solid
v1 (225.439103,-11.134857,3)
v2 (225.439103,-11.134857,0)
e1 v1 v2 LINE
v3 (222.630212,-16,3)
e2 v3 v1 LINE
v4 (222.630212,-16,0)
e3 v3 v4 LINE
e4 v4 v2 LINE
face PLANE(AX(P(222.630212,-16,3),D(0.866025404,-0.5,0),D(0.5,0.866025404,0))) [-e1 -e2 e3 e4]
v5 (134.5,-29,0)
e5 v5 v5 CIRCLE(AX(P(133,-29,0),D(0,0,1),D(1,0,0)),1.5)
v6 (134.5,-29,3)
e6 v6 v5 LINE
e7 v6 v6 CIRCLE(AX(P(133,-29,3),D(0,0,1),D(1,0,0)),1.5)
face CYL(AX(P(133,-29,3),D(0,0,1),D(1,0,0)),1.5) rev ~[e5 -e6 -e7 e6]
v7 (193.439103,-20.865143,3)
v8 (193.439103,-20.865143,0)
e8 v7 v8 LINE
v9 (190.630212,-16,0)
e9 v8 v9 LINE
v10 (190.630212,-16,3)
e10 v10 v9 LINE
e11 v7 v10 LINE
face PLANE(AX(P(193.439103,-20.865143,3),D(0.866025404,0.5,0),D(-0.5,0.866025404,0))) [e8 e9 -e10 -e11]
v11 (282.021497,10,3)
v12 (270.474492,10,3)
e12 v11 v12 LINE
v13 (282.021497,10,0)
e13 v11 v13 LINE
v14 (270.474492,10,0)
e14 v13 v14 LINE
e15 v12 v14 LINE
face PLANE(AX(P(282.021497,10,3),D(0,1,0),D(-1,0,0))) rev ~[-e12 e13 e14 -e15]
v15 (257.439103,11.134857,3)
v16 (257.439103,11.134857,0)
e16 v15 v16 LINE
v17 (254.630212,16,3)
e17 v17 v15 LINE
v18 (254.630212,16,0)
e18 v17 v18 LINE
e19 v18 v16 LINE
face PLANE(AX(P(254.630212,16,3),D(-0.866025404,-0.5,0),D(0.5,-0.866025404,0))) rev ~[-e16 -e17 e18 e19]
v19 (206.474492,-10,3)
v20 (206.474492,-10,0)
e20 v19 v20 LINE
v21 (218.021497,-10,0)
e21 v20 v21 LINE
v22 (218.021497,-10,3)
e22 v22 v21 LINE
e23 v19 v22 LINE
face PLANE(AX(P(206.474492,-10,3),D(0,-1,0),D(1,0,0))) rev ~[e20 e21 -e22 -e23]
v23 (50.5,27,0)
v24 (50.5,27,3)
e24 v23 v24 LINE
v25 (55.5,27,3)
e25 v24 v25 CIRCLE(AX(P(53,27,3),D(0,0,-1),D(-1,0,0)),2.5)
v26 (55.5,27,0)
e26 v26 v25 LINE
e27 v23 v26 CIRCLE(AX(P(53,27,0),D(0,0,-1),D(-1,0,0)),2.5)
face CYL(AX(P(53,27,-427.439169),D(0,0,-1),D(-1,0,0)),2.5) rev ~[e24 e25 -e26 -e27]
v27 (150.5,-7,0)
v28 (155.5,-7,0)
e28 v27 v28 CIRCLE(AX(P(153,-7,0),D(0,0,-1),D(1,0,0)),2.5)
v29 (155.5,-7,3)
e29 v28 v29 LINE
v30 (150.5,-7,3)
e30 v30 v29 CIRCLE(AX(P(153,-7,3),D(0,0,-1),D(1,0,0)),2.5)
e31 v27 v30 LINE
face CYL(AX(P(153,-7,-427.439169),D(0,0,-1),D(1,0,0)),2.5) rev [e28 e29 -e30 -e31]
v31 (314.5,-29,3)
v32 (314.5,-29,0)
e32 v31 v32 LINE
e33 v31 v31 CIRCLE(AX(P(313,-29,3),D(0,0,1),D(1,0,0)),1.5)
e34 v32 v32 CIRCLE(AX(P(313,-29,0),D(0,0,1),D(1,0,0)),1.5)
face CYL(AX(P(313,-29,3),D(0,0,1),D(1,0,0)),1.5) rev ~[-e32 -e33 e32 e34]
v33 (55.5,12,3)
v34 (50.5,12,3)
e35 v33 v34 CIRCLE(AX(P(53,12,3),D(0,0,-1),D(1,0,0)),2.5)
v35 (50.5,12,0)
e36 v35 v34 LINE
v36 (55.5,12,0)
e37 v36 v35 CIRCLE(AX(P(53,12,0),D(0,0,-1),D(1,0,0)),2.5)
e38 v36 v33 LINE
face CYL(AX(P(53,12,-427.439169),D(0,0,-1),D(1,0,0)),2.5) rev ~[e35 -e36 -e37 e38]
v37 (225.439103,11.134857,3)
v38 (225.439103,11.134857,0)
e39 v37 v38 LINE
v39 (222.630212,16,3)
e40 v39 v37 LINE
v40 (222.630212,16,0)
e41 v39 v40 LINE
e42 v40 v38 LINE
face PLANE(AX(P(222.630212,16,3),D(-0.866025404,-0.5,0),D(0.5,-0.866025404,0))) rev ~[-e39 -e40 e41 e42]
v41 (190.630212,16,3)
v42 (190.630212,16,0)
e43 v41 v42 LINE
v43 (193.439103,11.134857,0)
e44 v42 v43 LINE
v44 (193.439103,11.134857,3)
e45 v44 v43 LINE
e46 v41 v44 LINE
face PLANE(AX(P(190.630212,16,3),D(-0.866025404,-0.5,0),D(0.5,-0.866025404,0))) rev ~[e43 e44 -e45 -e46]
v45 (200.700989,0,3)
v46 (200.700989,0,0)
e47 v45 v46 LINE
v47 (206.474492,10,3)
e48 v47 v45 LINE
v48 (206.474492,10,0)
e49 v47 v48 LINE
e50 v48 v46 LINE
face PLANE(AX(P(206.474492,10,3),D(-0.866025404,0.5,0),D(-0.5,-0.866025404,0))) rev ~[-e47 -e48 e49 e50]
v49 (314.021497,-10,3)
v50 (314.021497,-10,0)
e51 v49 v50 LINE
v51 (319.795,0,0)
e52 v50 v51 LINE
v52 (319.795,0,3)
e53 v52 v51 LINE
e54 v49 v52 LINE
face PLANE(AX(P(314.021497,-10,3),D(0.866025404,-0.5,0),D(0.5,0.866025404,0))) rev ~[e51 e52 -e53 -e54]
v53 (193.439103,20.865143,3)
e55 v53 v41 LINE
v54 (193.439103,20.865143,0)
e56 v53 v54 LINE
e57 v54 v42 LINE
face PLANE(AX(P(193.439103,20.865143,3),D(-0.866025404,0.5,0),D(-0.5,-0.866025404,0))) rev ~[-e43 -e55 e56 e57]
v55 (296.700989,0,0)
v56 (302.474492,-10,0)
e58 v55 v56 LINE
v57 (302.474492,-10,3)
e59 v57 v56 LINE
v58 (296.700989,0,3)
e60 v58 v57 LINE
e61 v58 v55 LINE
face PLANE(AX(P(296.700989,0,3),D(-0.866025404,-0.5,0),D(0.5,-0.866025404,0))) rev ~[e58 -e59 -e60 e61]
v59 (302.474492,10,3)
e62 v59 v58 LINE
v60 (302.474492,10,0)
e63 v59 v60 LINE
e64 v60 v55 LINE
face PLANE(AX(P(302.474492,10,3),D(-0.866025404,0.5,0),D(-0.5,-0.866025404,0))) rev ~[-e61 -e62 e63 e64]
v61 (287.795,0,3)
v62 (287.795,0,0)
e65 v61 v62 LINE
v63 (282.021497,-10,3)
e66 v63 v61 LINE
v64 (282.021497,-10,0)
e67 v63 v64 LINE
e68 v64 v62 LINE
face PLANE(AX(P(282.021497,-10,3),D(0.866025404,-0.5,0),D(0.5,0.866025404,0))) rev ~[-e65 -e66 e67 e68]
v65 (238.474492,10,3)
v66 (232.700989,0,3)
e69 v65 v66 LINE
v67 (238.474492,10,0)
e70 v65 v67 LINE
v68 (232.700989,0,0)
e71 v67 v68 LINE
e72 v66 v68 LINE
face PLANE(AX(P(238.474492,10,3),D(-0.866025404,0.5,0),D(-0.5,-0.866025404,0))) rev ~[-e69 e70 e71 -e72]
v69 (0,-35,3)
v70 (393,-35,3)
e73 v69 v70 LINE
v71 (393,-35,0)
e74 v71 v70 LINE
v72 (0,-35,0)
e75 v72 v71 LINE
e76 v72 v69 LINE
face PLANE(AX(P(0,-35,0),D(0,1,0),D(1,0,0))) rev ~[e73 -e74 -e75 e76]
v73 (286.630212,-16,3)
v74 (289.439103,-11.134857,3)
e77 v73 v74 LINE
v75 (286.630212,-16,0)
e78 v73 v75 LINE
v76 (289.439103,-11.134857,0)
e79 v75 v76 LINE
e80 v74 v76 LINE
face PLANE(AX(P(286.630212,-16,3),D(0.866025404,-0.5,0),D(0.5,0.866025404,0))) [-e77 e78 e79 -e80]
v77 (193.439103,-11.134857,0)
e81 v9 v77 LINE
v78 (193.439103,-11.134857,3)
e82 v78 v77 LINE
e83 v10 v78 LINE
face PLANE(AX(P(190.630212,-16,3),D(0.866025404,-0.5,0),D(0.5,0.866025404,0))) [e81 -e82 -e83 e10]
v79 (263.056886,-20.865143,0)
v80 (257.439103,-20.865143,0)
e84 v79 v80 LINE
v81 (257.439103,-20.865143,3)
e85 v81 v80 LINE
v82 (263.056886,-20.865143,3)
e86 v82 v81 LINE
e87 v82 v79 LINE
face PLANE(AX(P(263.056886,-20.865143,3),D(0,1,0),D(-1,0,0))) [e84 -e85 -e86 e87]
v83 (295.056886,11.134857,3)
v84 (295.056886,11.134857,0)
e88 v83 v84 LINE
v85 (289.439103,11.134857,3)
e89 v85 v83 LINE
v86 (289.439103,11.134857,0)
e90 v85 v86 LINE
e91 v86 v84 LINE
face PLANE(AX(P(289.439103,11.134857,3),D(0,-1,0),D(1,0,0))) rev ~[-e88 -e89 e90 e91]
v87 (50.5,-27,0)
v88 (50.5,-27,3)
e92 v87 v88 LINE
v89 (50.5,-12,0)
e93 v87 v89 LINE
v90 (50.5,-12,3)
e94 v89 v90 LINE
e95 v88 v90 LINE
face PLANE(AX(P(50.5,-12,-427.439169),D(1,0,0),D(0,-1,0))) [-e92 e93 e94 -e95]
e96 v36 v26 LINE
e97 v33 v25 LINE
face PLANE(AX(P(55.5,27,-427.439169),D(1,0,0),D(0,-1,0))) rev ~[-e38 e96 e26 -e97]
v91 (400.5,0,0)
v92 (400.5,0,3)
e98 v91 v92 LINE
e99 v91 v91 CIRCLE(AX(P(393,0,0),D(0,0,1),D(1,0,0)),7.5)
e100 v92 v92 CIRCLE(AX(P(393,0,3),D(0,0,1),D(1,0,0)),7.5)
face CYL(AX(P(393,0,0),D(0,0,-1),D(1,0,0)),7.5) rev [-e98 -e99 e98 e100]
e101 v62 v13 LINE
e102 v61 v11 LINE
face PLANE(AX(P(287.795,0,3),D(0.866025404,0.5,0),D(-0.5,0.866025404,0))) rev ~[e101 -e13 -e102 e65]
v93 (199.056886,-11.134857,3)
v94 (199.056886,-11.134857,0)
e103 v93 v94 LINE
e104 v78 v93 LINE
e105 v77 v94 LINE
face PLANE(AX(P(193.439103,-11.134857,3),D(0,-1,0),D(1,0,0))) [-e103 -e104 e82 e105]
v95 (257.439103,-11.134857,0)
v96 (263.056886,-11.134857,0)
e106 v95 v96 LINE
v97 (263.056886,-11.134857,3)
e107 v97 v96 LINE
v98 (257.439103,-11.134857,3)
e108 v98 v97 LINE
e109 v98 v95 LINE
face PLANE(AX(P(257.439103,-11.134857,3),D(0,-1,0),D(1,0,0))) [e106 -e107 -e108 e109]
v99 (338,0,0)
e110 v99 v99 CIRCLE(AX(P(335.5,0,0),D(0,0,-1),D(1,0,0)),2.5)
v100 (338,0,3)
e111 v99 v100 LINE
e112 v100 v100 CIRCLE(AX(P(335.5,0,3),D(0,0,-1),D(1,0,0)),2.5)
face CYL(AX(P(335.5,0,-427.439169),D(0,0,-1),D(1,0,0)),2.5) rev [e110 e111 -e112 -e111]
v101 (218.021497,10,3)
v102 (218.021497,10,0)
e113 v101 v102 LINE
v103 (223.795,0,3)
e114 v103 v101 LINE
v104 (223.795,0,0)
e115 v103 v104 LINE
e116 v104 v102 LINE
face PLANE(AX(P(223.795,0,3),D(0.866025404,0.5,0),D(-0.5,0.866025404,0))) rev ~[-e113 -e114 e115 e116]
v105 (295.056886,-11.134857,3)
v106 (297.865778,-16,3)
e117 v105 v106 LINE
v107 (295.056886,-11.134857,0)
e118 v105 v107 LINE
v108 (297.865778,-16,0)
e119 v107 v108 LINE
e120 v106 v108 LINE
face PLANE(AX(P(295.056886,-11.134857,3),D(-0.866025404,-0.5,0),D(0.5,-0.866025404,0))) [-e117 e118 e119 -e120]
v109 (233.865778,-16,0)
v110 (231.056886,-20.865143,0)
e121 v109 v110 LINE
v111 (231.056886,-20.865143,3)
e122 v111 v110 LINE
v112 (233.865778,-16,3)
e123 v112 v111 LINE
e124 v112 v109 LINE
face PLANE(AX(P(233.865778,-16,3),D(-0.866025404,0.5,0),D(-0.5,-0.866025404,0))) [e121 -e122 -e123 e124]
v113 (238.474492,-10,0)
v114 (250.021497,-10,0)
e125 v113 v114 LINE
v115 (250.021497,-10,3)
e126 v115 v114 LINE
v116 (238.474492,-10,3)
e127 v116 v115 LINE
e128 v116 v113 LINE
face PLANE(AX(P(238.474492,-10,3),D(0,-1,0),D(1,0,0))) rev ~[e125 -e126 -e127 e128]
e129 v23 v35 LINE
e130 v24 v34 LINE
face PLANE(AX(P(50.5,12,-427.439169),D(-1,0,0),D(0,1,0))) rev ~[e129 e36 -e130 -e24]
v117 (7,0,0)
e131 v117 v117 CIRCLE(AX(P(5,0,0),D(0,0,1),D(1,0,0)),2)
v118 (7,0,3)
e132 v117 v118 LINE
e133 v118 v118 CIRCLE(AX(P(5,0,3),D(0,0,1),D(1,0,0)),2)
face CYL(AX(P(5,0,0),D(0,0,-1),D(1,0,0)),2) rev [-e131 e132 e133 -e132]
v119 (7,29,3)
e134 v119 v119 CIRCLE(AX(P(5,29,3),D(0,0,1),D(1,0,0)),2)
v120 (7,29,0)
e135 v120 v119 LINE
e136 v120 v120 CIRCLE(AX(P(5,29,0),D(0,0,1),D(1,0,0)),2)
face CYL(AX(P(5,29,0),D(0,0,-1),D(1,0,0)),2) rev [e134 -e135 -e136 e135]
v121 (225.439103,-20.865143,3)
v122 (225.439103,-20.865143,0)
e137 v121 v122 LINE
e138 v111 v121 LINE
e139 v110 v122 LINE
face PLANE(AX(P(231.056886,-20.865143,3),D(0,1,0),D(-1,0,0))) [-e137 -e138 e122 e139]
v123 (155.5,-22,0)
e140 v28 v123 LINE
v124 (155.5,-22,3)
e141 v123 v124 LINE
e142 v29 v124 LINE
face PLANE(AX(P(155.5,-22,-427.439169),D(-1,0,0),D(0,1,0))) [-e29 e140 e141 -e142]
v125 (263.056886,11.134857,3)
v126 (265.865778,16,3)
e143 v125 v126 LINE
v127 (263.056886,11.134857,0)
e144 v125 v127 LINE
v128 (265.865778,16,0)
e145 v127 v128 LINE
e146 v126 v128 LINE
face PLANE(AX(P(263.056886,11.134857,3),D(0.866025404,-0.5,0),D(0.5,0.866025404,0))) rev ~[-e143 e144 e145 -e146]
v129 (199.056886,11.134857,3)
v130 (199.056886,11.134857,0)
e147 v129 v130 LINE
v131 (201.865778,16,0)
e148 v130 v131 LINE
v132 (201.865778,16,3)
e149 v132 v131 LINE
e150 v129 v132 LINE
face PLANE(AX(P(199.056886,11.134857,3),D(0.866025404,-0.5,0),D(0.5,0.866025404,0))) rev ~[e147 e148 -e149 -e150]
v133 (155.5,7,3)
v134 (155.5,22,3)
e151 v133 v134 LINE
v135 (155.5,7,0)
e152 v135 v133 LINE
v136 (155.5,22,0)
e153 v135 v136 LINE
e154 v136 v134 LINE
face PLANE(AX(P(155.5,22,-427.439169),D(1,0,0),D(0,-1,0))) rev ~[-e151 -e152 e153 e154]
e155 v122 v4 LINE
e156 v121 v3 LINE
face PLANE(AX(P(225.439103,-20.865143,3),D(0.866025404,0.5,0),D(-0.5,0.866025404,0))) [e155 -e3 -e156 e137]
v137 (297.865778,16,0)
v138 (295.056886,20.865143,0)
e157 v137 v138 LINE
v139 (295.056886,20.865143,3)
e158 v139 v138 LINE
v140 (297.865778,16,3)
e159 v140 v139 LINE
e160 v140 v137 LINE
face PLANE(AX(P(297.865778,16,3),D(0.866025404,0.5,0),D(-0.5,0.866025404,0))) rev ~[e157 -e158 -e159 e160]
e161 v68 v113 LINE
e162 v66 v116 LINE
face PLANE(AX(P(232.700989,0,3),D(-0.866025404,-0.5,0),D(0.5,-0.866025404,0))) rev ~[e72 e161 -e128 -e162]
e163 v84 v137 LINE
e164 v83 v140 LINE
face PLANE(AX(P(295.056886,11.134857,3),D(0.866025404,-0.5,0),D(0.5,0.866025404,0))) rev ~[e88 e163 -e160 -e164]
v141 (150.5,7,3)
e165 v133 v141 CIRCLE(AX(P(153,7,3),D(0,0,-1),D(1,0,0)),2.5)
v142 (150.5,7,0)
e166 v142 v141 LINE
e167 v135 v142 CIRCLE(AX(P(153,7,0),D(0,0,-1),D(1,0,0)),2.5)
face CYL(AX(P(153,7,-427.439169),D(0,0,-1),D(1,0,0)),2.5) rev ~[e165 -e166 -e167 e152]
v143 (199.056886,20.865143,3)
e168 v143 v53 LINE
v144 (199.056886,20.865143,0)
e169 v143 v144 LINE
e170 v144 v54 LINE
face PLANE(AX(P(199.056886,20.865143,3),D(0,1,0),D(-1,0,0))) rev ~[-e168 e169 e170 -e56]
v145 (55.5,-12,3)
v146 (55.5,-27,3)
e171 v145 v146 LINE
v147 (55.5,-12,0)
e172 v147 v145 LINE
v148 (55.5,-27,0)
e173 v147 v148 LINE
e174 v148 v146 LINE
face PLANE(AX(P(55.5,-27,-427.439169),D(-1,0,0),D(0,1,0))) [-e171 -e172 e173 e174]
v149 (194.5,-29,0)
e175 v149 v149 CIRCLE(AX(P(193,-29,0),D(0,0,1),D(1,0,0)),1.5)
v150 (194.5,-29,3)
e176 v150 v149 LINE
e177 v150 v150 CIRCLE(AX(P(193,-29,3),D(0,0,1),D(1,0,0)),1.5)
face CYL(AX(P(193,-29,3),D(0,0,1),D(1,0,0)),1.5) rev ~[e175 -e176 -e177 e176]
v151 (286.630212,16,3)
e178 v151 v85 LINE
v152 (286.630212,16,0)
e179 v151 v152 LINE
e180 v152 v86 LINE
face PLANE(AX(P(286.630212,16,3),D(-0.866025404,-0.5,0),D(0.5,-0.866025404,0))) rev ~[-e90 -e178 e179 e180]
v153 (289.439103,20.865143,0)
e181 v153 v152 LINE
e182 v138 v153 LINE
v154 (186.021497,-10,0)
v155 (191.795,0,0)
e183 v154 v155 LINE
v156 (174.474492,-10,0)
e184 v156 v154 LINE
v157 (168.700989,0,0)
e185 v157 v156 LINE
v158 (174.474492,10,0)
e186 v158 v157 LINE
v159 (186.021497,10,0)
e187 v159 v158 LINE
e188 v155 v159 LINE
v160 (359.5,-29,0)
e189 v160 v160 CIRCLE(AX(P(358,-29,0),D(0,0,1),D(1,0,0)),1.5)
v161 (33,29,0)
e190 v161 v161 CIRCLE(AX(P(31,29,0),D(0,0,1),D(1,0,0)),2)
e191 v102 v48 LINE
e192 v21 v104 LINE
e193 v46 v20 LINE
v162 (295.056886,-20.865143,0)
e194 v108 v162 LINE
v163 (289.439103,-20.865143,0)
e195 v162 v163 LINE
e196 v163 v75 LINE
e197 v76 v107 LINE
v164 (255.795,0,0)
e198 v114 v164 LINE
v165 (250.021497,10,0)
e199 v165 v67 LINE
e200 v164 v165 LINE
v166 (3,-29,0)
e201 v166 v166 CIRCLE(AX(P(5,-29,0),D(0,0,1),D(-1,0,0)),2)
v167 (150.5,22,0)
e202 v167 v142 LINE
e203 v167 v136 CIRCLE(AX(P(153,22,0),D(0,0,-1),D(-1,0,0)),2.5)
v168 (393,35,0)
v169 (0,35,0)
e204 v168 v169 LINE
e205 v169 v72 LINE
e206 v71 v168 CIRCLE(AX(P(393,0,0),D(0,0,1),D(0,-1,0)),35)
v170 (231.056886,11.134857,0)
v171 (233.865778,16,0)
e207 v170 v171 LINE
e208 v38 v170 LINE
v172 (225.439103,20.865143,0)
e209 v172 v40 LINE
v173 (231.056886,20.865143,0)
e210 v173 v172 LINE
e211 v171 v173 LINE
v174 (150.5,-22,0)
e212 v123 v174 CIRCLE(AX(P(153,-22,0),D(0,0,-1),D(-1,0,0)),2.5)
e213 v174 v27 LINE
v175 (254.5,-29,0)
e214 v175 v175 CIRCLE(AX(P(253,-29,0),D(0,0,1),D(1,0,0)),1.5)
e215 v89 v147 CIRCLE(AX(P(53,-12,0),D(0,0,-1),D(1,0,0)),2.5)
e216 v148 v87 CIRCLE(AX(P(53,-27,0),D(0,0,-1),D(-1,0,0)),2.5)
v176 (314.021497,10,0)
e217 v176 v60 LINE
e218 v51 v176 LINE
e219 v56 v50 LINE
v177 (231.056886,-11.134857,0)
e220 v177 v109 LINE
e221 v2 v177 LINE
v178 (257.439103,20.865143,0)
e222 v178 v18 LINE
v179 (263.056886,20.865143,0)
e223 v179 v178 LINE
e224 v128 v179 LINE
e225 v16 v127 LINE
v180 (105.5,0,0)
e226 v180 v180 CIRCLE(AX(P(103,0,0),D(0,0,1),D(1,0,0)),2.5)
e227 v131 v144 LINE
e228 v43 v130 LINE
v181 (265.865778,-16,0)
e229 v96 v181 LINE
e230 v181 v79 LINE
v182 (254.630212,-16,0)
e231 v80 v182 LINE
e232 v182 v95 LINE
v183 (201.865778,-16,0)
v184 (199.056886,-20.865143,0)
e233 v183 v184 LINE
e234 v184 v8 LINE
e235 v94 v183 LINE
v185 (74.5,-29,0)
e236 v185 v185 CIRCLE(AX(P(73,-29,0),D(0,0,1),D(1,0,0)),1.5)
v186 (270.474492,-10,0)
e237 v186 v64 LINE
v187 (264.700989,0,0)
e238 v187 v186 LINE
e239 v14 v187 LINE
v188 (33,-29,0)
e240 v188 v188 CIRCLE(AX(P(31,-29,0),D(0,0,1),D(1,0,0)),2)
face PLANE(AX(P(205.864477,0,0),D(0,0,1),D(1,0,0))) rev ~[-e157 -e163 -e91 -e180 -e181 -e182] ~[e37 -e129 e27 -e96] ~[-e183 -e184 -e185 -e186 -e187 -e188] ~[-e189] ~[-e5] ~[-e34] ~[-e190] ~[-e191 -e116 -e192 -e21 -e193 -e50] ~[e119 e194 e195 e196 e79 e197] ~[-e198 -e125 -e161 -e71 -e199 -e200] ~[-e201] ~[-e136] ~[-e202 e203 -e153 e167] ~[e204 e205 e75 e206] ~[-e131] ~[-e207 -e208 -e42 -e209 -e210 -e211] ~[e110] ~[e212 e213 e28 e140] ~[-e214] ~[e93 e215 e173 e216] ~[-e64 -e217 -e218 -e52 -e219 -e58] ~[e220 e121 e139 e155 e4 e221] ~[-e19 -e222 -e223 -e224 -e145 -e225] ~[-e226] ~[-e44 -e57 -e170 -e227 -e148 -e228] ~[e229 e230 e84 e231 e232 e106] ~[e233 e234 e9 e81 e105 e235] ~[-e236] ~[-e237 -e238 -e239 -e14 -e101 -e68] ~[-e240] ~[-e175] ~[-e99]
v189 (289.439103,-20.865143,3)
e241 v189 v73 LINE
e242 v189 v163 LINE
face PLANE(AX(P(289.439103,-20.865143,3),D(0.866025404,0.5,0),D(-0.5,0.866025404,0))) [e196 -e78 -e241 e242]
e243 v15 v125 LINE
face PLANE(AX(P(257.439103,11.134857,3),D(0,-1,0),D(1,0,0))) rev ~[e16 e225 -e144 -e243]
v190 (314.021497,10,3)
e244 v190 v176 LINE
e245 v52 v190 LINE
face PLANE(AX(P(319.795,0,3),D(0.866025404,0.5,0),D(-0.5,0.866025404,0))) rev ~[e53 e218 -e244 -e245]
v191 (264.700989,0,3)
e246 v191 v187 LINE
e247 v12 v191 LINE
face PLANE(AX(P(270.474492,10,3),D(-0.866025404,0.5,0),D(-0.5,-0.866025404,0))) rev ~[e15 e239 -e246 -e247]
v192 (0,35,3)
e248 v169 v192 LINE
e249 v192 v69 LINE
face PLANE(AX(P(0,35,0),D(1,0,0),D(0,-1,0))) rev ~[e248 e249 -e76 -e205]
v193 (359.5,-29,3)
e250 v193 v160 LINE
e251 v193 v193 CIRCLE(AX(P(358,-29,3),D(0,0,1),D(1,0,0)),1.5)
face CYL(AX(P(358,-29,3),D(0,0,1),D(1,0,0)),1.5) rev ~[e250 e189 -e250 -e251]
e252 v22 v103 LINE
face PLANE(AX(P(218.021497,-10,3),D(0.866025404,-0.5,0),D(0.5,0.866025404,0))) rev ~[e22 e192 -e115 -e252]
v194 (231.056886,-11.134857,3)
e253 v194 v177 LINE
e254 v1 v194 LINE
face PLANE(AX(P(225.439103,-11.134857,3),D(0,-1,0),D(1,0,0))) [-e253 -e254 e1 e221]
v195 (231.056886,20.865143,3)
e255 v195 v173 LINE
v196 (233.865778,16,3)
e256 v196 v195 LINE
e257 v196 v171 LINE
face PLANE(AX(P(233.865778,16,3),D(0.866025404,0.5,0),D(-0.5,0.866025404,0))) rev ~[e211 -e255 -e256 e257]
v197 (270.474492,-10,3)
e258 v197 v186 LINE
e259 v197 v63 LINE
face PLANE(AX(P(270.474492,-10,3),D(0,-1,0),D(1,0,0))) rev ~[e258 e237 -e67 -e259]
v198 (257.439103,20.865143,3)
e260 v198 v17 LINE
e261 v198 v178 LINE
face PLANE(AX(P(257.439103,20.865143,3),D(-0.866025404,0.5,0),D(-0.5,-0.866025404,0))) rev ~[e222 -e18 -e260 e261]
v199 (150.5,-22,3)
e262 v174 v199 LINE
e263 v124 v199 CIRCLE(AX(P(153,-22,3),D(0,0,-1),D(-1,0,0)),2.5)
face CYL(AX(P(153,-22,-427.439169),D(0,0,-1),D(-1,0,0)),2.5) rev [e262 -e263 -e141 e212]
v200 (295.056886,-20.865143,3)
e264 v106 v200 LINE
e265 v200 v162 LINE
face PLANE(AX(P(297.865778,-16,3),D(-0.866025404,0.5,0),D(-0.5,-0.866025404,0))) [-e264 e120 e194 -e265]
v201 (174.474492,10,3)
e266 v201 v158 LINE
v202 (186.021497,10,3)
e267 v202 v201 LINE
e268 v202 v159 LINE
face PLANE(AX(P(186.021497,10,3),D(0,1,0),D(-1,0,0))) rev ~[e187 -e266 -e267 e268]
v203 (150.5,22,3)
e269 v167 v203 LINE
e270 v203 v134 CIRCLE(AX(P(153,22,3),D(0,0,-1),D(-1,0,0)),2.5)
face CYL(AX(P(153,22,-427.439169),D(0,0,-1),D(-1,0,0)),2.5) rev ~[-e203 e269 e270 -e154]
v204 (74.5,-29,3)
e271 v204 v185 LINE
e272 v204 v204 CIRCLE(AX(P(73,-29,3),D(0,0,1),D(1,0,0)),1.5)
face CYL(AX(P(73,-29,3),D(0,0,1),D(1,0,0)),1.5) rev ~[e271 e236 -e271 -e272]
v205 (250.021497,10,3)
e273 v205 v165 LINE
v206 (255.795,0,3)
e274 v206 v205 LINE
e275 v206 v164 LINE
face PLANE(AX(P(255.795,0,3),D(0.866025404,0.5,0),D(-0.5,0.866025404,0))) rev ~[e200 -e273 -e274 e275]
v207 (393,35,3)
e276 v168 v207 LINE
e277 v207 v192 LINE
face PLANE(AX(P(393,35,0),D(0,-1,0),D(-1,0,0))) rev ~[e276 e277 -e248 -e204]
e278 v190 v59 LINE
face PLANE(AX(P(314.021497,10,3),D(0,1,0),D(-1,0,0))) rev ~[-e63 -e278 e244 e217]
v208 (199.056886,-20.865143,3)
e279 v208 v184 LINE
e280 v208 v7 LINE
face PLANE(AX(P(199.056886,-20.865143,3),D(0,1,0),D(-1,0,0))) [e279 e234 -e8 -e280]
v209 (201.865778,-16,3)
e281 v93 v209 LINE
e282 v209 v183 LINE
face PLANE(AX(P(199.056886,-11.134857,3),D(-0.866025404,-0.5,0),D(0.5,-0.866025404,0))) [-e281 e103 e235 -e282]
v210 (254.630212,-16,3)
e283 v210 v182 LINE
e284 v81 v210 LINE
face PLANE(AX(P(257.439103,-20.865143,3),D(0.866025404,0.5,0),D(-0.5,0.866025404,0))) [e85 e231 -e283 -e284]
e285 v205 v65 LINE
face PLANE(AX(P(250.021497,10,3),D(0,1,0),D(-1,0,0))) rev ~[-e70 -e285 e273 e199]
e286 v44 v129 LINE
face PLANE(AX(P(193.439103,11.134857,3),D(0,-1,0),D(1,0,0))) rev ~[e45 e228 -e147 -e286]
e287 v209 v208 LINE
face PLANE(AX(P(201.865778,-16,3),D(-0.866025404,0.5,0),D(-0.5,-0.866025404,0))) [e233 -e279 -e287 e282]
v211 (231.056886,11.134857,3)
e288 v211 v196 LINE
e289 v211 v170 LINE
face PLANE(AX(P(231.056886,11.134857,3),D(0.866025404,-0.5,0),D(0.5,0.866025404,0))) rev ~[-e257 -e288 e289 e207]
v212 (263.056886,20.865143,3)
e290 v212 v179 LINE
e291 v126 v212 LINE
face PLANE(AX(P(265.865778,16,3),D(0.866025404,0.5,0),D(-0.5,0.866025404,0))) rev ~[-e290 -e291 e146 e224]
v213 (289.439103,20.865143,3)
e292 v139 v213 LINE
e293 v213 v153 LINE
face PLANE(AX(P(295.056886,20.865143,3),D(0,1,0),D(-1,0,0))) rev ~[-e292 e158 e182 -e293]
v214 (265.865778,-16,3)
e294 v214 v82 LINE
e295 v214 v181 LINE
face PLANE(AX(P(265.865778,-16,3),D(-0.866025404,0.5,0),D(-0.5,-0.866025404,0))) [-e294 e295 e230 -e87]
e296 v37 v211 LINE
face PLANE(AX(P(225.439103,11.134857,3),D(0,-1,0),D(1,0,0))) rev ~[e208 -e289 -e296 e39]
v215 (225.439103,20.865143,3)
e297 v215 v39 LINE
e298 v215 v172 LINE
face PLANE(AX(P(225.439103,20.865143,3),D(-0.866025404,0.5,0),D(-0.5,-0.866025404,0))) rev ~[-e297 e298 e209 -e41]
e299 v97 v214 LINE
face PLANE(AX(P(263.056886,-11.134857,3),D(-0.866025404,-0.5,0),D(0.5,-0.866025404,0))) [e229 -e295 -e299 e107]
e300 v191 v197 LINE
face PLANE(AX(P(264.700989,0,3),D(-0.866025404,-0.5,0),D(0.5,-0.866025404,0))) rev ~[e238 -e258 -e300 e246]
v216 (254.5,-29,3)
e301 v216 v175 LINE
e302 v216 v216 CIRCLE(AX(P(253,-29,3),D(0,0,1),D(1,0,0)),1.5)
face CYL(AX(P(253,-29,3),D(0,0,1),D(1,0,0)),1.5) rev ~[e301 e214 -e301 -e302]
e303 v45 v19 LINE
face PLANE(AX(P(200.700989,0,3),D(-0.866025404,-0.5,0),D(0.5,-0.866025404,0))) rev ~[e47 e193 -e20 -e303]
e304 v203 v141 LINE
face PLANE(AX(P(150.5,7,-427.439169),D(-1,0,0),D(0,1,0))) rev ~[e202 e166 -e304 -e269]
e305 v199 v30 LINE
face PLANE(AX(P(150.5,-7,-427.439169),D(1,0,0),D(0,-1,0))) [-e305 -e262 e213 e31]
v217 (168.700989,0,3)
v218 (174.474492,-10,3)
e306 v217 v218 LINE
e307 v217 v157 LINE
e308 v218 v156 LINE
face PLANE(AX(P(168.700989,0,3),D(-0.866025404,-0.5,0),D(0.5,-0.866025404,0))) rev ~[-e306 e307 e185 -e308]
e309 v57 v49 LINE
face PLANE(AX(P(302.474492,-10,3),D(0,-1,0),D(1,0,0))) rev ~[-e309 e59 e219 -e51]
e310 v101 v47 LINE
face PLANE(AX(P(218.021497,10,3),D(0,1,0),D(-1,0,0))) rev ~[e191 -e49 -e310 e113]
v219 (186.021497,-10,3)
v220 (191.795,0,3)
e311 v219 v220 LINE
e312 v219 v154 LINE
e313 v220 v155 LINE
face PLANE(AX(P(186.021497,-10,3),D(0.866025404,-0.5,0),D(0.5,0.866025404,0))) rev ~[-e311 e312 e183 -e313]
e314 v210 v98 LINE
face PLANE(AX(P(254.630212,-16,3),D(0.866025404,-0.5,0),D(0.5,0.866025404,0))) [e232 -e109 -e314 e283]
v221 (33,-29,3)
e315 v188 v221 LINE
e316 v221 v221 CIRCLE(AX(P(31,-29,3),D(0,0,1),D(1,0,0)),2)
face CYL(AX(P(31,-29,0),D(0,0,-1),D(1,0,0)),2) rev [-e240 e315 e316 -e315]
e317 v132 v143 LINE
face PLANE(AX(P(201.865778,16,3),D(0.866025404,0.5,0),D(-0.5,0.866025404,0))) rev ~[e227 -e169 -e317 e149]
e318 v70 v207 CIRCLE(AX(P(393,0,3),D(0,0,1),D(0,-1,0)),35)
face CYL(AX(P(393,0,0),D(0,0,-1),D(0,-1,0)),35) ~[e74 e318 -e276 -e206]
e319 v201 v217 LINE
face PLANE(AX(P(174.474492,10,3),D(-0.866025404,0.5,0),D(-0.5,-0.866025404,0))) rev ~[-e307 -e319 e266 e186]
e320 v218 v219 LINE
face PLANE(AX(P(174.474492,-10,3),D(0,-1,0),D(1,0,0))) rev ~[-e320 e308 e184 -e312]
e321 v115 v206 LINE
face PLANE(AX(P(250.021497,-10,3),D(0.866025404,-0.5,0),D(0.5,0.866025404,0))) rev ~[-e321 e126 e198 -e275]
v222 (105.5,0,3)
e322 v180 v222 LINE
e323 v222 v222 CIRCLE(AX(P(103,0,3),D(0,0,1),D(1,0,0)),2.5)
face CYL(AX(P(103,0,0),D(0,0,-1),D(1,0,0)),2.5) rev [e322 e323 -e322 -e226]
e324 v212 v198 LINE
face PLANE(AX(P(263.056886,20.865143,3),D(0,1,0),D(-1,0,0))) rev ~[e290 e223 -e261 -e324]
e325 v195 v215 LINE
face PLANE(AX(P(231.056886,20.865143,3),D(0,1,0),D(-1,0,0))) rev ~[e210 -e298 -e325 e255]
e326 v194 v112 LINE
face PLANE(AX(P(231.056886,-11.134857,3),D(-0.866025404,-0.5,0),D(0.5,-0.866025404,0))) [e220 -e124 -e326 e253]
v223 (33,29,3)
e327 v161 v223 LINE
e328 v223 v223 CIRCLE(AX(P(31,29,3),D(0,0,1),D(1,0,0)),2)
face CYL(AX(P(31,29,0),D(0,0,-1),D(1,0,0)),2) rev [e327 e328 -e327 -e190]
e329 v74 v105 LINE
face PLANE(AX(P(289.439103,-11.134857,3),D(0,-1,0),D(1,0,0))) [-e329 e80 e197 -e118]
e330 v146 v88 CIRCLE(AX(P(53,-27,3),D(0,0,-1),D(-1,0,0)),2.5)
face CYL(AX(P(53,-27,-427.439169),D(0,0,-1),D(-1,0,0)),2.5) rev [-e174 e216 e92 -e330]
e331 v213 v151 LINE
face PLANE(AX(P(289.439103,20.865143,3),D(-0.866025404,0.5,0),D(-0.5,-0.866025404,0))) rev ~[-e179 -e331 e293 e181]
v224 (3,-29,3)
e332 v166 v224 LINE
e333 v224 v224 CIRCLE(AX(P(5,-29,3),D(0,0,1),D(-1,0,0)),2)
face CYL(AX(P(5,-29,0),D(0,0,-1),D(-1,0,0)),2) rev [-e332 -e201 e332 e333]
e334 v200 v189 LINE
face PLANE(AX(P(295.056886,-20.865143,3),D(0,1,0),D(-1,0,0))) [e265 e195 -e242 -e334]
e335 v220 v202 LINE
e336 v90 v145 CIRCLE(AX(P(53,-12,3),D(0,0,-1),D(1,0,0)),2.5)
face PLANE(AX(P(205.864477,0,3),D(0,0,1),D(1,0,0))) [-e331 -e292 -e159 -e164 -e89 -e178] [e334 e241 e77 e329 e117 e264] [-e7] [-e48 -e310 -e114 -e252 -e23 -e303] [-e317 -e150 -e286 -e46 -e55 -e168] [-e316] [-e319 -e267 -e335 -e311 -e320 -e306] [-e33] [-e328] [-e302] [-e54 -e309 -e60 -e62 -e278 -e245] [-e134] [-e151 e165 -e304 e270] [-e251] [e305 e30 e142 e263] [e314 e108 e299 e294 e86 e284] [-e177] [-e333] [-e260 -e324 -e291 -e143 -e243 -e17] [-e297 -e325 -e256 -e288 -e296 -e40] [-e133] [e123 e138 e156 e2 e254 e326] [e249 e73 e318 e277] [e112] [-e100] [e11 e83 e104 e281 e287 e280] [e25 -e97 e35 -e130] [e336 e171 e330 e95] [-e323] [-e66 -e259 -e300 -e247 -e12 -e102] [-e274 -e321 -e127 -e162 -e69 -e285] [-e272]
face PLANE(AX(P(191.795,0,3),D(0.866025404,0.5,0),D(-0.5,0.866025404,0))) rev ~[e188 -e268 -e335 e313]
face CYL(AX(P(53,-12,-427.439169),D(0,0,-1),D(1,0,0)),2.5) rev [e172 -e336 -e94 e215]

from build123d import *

# Parameters (mm, degrees)
SKETCH1_R               = 2
SKETCH1_R_2             = 7.5
SKETCH1_R_3             = 2.5
BOSS_EXTRUDE1_DEPTH     = 3
CUT_EXTRUDE1_DEPTH      = 430.43916915
CUT_EXTRUDE1_DEPTH_BACK = 430.43916915
CUT_EXTRUDE2_DEPTH      = 430.43916915
CUT_EXTRUDE2_DEPTH_BACK = 430.43916915
SKETCH5_R               = 2.5
SKETCH7_R               = 1.5
CUT_EXTRUDE4_DEPTH      = 3
CUT_EXTRUDE6_DEPTH      = 10


with BuildPart() as part:
    # Sketch1 → Boss-Extrude1 (new body)
    with BuildSketch(Plane.XY):
        with BuildLine():
            Line((0, 35), (0, -35))
            Line((0, -35), (393, -35))
            ThreePointArc((393, -35), (428, 0), (393, 35))
            Line((393, 35), (0, 35))
        make_face()
        with Locations((5, 29)):
            Circle(SKETCH1_R, mode=Mode.SUBTRACT)
        with Locations(Location((5, -29, 0), (0, 0, 180))):
            Circle(SKETCH1_R, mode=Mode.SUBTRACT)
        with Locations((393, 0)):
            Circle(SKETCH1_R_2, mode=Mode.SUBTRACT)
        with Locations((103, 0)):
            Circle(SKETCH1_R_3, mode=Mode.SUBTRACT)
        with Locations((31, 29)):
            Circle(SKETCH1_R, mode=Mode.SUBTRACT)
        with Locations((31, -29)):
            Circle(SKETCH1_R, mode=Mode.SUBTRACT)
        with Locations((5, 0)):
            Circle(SKETCH1_R, mode=Mode.SUBTRACT)
    extrude(amount=BOSS_EXTRUDE1_DEPTH)

    # Sketch4 → Cut-Extrude1 (cut, two sides: drawn at the far end of the back side and taken through both)
    with BuildSketch(Plane.XY.offset(3).offset(-CUT_EXTRUDE1_DEPTH_BACK)):
        with BuildLine():
            Line((55.5, 27), (55.5, 12))
            ThreePointArc((55.5, 12), (53, 9.5), (50.5, 12))
            Line((50.5, 12), (50.5, 27))
            ThreePointArc((50.5, 27), (53, 29.5), (55.5, 27))
        make_face()
        with BuildLine():
            Line((155.5, 22), (155.5, 7))
            ThreePointArc((155.5, 7), (153, 4.5), (150.5, 7))
            Line((150.5, 7), (150.5, 22))
            ThreePointArc((150.5, 22), (153, 24.5), (155.5, 22))
        make_face()
        with BuildLine():
            Line((155.5, -22), (155.5, -7))
            ThreePointArc((155.5, -7), (153, -4.5), (150.5, -7))
            Line((150.5, -7), (150.5, -22))
            ThreePointArc((150.5, -22), (153, -24.5), (155.5, -22))
        make_face()
        with BuildLine():
            Line((55.5, -27), (55.5, -12))
            ThreePointArc((55.5, -12), (53, -9.5), (50.5, -12))
            Line((50.5, -12), (50.5, -27))
            ThreePointArc((50.5, -27), (53, -29.5), (55.5, -27))
        make_face()
    extrude(amount=CUT_EXTRUDE1_DEPTH + CUT_EXTRUDE1_DEPTH_BACK, mode=Mode.SUBTRACT)

    # Sketch5 → Cut-Extrude2 (cut, two sides: drawn at the far end of the back side and taken through both)
    with BuildSketch(Plane.XY.offset(3).offset(-CUT_EXTRUDE2_DEPTH_BACK)):
        with Locations((335.5, 0)):
            Circle(SKETCH5_R)
    extrude(amount=CUT_EXTRUDE2_DEPTH + CUT_EXTRUDE2_DEPTH_BACK, mode=Mode.SUBTRACT)

    # Sketch7 → Cut-Extrude4 (cut)
    with BuildSketch(Plane.XY.offset(3)):
        with Locations((73, -29)):
            Circle(SKETCH7_R)
        with Locations((133, -29)):
            Circle(SKETCH7_R)
        with Locations((193, -29)):
            Circle(SKETCH7_R)
        with Locations((253, -29)):
            Circle(SKETCH7_R)
        with Locations((313, -29)):
            Circle(SKETCH7_R)
        with Locations((358, -29)):
            Circle(SKETCH7_R)
    extrude(amount=-CUT_EXTRUDE4_DEPTH, mode=Mode.SUBTRACT)

    # Sketch9 → Cut-Extrude6 (cut)
    with BuildSketch(Plane.XY.offset(3)):
        Polygon((223.795, 0), (218.021497308, 10), (206.474491924, 10), (200.700989232, 0), (206.474491924, -10), (218.021497308, -10), align=None)
        Polygon((191.795, 0), (186.021497308, 10), (174.474491924, 10), (168.700989232, 0), (174.474491924, -10), (186.021497308, -10), align=None)
        Polygon((255.795, 0), (250.021497308, 10), (238.474491924, 10), (232.700989232, 0), (238.474491924, -10), (250.021497308, -10), align=None)
        Polygon((287.795, 0), (282.021497308, 10), (270.474491924, 10), (264.700989232, 0), (270.474491924, -10), (282.021497308, -10), align=None)
        Polygon((233.865777575, 16), (231.056886095, 20.865142755), (225.439103137, 20.865142755), (222.630211658, 16), (225.439103137, 11.134857245), (231.056886095, 11.134857245), align=None)
        Polygon((201.865777575, 16), (199.056886095, 20.865142755), (193.439103137, 20.865142755), (190.630211658, 16), (193.439103137, 11.134857245), (199.056886095, 11.134857245), align=None)
        Polygon((265.865777575, 16), (263.056886095, 20.865142755), (257.439103137, 20.865142755), (254.630211658, 16), (257.439103137, 11.134857245), (263.056886095, 11.134857245), align=None)
        Polygon((319.795, 0), (314.021497308, 10), (302.474491924, 10), (296.700989232, 0), (302.474491924, -10), (314.021497308, -10), align=None)
        Polygon((297.865777575, 16), (295.056886095, 20.865142755), (289.439103137, 20.865142755), (286.630211658, 16), (289.439103137, 11.134857245), (295.056886095, 11.134857245), align=None)
        Polygon((295.056886095, -11.134857245), (297.865777575, -16), (295.056886095, -20.865142755), (289.439103137, -20.865142755), (286.630211658, -16), (289.439103137, -11.134857245), align=None)
        Polygon((263.056886095, -11.134857245), (265.865777575, -16), (263.056886095, -20.865142755), (257.439103137, -20.865142755), (254.630211658, -16), (257.439103137, -11.134857245), align=None)
        Polygon((231.056886095, -11.134857245), (233.865777575, -16), (231.056886095, -20.865142755), (225.439103137, -20.865142755), (222.630211658, -16), (225.439103137, -11.134857245), align=None)
        Polygon((199.056886095, -11.134857245), (201.865777575, -16), (199.056886095, -20.865142755), (193.439103137, -20.865142755), (190.630211658, -16), (193.439103137, -11.134857245), align=None)
    extrude(amount=-CUT_EXTRUDE6_DEPTH, mode=Mode.SUBTRACT)


solid = part.part
